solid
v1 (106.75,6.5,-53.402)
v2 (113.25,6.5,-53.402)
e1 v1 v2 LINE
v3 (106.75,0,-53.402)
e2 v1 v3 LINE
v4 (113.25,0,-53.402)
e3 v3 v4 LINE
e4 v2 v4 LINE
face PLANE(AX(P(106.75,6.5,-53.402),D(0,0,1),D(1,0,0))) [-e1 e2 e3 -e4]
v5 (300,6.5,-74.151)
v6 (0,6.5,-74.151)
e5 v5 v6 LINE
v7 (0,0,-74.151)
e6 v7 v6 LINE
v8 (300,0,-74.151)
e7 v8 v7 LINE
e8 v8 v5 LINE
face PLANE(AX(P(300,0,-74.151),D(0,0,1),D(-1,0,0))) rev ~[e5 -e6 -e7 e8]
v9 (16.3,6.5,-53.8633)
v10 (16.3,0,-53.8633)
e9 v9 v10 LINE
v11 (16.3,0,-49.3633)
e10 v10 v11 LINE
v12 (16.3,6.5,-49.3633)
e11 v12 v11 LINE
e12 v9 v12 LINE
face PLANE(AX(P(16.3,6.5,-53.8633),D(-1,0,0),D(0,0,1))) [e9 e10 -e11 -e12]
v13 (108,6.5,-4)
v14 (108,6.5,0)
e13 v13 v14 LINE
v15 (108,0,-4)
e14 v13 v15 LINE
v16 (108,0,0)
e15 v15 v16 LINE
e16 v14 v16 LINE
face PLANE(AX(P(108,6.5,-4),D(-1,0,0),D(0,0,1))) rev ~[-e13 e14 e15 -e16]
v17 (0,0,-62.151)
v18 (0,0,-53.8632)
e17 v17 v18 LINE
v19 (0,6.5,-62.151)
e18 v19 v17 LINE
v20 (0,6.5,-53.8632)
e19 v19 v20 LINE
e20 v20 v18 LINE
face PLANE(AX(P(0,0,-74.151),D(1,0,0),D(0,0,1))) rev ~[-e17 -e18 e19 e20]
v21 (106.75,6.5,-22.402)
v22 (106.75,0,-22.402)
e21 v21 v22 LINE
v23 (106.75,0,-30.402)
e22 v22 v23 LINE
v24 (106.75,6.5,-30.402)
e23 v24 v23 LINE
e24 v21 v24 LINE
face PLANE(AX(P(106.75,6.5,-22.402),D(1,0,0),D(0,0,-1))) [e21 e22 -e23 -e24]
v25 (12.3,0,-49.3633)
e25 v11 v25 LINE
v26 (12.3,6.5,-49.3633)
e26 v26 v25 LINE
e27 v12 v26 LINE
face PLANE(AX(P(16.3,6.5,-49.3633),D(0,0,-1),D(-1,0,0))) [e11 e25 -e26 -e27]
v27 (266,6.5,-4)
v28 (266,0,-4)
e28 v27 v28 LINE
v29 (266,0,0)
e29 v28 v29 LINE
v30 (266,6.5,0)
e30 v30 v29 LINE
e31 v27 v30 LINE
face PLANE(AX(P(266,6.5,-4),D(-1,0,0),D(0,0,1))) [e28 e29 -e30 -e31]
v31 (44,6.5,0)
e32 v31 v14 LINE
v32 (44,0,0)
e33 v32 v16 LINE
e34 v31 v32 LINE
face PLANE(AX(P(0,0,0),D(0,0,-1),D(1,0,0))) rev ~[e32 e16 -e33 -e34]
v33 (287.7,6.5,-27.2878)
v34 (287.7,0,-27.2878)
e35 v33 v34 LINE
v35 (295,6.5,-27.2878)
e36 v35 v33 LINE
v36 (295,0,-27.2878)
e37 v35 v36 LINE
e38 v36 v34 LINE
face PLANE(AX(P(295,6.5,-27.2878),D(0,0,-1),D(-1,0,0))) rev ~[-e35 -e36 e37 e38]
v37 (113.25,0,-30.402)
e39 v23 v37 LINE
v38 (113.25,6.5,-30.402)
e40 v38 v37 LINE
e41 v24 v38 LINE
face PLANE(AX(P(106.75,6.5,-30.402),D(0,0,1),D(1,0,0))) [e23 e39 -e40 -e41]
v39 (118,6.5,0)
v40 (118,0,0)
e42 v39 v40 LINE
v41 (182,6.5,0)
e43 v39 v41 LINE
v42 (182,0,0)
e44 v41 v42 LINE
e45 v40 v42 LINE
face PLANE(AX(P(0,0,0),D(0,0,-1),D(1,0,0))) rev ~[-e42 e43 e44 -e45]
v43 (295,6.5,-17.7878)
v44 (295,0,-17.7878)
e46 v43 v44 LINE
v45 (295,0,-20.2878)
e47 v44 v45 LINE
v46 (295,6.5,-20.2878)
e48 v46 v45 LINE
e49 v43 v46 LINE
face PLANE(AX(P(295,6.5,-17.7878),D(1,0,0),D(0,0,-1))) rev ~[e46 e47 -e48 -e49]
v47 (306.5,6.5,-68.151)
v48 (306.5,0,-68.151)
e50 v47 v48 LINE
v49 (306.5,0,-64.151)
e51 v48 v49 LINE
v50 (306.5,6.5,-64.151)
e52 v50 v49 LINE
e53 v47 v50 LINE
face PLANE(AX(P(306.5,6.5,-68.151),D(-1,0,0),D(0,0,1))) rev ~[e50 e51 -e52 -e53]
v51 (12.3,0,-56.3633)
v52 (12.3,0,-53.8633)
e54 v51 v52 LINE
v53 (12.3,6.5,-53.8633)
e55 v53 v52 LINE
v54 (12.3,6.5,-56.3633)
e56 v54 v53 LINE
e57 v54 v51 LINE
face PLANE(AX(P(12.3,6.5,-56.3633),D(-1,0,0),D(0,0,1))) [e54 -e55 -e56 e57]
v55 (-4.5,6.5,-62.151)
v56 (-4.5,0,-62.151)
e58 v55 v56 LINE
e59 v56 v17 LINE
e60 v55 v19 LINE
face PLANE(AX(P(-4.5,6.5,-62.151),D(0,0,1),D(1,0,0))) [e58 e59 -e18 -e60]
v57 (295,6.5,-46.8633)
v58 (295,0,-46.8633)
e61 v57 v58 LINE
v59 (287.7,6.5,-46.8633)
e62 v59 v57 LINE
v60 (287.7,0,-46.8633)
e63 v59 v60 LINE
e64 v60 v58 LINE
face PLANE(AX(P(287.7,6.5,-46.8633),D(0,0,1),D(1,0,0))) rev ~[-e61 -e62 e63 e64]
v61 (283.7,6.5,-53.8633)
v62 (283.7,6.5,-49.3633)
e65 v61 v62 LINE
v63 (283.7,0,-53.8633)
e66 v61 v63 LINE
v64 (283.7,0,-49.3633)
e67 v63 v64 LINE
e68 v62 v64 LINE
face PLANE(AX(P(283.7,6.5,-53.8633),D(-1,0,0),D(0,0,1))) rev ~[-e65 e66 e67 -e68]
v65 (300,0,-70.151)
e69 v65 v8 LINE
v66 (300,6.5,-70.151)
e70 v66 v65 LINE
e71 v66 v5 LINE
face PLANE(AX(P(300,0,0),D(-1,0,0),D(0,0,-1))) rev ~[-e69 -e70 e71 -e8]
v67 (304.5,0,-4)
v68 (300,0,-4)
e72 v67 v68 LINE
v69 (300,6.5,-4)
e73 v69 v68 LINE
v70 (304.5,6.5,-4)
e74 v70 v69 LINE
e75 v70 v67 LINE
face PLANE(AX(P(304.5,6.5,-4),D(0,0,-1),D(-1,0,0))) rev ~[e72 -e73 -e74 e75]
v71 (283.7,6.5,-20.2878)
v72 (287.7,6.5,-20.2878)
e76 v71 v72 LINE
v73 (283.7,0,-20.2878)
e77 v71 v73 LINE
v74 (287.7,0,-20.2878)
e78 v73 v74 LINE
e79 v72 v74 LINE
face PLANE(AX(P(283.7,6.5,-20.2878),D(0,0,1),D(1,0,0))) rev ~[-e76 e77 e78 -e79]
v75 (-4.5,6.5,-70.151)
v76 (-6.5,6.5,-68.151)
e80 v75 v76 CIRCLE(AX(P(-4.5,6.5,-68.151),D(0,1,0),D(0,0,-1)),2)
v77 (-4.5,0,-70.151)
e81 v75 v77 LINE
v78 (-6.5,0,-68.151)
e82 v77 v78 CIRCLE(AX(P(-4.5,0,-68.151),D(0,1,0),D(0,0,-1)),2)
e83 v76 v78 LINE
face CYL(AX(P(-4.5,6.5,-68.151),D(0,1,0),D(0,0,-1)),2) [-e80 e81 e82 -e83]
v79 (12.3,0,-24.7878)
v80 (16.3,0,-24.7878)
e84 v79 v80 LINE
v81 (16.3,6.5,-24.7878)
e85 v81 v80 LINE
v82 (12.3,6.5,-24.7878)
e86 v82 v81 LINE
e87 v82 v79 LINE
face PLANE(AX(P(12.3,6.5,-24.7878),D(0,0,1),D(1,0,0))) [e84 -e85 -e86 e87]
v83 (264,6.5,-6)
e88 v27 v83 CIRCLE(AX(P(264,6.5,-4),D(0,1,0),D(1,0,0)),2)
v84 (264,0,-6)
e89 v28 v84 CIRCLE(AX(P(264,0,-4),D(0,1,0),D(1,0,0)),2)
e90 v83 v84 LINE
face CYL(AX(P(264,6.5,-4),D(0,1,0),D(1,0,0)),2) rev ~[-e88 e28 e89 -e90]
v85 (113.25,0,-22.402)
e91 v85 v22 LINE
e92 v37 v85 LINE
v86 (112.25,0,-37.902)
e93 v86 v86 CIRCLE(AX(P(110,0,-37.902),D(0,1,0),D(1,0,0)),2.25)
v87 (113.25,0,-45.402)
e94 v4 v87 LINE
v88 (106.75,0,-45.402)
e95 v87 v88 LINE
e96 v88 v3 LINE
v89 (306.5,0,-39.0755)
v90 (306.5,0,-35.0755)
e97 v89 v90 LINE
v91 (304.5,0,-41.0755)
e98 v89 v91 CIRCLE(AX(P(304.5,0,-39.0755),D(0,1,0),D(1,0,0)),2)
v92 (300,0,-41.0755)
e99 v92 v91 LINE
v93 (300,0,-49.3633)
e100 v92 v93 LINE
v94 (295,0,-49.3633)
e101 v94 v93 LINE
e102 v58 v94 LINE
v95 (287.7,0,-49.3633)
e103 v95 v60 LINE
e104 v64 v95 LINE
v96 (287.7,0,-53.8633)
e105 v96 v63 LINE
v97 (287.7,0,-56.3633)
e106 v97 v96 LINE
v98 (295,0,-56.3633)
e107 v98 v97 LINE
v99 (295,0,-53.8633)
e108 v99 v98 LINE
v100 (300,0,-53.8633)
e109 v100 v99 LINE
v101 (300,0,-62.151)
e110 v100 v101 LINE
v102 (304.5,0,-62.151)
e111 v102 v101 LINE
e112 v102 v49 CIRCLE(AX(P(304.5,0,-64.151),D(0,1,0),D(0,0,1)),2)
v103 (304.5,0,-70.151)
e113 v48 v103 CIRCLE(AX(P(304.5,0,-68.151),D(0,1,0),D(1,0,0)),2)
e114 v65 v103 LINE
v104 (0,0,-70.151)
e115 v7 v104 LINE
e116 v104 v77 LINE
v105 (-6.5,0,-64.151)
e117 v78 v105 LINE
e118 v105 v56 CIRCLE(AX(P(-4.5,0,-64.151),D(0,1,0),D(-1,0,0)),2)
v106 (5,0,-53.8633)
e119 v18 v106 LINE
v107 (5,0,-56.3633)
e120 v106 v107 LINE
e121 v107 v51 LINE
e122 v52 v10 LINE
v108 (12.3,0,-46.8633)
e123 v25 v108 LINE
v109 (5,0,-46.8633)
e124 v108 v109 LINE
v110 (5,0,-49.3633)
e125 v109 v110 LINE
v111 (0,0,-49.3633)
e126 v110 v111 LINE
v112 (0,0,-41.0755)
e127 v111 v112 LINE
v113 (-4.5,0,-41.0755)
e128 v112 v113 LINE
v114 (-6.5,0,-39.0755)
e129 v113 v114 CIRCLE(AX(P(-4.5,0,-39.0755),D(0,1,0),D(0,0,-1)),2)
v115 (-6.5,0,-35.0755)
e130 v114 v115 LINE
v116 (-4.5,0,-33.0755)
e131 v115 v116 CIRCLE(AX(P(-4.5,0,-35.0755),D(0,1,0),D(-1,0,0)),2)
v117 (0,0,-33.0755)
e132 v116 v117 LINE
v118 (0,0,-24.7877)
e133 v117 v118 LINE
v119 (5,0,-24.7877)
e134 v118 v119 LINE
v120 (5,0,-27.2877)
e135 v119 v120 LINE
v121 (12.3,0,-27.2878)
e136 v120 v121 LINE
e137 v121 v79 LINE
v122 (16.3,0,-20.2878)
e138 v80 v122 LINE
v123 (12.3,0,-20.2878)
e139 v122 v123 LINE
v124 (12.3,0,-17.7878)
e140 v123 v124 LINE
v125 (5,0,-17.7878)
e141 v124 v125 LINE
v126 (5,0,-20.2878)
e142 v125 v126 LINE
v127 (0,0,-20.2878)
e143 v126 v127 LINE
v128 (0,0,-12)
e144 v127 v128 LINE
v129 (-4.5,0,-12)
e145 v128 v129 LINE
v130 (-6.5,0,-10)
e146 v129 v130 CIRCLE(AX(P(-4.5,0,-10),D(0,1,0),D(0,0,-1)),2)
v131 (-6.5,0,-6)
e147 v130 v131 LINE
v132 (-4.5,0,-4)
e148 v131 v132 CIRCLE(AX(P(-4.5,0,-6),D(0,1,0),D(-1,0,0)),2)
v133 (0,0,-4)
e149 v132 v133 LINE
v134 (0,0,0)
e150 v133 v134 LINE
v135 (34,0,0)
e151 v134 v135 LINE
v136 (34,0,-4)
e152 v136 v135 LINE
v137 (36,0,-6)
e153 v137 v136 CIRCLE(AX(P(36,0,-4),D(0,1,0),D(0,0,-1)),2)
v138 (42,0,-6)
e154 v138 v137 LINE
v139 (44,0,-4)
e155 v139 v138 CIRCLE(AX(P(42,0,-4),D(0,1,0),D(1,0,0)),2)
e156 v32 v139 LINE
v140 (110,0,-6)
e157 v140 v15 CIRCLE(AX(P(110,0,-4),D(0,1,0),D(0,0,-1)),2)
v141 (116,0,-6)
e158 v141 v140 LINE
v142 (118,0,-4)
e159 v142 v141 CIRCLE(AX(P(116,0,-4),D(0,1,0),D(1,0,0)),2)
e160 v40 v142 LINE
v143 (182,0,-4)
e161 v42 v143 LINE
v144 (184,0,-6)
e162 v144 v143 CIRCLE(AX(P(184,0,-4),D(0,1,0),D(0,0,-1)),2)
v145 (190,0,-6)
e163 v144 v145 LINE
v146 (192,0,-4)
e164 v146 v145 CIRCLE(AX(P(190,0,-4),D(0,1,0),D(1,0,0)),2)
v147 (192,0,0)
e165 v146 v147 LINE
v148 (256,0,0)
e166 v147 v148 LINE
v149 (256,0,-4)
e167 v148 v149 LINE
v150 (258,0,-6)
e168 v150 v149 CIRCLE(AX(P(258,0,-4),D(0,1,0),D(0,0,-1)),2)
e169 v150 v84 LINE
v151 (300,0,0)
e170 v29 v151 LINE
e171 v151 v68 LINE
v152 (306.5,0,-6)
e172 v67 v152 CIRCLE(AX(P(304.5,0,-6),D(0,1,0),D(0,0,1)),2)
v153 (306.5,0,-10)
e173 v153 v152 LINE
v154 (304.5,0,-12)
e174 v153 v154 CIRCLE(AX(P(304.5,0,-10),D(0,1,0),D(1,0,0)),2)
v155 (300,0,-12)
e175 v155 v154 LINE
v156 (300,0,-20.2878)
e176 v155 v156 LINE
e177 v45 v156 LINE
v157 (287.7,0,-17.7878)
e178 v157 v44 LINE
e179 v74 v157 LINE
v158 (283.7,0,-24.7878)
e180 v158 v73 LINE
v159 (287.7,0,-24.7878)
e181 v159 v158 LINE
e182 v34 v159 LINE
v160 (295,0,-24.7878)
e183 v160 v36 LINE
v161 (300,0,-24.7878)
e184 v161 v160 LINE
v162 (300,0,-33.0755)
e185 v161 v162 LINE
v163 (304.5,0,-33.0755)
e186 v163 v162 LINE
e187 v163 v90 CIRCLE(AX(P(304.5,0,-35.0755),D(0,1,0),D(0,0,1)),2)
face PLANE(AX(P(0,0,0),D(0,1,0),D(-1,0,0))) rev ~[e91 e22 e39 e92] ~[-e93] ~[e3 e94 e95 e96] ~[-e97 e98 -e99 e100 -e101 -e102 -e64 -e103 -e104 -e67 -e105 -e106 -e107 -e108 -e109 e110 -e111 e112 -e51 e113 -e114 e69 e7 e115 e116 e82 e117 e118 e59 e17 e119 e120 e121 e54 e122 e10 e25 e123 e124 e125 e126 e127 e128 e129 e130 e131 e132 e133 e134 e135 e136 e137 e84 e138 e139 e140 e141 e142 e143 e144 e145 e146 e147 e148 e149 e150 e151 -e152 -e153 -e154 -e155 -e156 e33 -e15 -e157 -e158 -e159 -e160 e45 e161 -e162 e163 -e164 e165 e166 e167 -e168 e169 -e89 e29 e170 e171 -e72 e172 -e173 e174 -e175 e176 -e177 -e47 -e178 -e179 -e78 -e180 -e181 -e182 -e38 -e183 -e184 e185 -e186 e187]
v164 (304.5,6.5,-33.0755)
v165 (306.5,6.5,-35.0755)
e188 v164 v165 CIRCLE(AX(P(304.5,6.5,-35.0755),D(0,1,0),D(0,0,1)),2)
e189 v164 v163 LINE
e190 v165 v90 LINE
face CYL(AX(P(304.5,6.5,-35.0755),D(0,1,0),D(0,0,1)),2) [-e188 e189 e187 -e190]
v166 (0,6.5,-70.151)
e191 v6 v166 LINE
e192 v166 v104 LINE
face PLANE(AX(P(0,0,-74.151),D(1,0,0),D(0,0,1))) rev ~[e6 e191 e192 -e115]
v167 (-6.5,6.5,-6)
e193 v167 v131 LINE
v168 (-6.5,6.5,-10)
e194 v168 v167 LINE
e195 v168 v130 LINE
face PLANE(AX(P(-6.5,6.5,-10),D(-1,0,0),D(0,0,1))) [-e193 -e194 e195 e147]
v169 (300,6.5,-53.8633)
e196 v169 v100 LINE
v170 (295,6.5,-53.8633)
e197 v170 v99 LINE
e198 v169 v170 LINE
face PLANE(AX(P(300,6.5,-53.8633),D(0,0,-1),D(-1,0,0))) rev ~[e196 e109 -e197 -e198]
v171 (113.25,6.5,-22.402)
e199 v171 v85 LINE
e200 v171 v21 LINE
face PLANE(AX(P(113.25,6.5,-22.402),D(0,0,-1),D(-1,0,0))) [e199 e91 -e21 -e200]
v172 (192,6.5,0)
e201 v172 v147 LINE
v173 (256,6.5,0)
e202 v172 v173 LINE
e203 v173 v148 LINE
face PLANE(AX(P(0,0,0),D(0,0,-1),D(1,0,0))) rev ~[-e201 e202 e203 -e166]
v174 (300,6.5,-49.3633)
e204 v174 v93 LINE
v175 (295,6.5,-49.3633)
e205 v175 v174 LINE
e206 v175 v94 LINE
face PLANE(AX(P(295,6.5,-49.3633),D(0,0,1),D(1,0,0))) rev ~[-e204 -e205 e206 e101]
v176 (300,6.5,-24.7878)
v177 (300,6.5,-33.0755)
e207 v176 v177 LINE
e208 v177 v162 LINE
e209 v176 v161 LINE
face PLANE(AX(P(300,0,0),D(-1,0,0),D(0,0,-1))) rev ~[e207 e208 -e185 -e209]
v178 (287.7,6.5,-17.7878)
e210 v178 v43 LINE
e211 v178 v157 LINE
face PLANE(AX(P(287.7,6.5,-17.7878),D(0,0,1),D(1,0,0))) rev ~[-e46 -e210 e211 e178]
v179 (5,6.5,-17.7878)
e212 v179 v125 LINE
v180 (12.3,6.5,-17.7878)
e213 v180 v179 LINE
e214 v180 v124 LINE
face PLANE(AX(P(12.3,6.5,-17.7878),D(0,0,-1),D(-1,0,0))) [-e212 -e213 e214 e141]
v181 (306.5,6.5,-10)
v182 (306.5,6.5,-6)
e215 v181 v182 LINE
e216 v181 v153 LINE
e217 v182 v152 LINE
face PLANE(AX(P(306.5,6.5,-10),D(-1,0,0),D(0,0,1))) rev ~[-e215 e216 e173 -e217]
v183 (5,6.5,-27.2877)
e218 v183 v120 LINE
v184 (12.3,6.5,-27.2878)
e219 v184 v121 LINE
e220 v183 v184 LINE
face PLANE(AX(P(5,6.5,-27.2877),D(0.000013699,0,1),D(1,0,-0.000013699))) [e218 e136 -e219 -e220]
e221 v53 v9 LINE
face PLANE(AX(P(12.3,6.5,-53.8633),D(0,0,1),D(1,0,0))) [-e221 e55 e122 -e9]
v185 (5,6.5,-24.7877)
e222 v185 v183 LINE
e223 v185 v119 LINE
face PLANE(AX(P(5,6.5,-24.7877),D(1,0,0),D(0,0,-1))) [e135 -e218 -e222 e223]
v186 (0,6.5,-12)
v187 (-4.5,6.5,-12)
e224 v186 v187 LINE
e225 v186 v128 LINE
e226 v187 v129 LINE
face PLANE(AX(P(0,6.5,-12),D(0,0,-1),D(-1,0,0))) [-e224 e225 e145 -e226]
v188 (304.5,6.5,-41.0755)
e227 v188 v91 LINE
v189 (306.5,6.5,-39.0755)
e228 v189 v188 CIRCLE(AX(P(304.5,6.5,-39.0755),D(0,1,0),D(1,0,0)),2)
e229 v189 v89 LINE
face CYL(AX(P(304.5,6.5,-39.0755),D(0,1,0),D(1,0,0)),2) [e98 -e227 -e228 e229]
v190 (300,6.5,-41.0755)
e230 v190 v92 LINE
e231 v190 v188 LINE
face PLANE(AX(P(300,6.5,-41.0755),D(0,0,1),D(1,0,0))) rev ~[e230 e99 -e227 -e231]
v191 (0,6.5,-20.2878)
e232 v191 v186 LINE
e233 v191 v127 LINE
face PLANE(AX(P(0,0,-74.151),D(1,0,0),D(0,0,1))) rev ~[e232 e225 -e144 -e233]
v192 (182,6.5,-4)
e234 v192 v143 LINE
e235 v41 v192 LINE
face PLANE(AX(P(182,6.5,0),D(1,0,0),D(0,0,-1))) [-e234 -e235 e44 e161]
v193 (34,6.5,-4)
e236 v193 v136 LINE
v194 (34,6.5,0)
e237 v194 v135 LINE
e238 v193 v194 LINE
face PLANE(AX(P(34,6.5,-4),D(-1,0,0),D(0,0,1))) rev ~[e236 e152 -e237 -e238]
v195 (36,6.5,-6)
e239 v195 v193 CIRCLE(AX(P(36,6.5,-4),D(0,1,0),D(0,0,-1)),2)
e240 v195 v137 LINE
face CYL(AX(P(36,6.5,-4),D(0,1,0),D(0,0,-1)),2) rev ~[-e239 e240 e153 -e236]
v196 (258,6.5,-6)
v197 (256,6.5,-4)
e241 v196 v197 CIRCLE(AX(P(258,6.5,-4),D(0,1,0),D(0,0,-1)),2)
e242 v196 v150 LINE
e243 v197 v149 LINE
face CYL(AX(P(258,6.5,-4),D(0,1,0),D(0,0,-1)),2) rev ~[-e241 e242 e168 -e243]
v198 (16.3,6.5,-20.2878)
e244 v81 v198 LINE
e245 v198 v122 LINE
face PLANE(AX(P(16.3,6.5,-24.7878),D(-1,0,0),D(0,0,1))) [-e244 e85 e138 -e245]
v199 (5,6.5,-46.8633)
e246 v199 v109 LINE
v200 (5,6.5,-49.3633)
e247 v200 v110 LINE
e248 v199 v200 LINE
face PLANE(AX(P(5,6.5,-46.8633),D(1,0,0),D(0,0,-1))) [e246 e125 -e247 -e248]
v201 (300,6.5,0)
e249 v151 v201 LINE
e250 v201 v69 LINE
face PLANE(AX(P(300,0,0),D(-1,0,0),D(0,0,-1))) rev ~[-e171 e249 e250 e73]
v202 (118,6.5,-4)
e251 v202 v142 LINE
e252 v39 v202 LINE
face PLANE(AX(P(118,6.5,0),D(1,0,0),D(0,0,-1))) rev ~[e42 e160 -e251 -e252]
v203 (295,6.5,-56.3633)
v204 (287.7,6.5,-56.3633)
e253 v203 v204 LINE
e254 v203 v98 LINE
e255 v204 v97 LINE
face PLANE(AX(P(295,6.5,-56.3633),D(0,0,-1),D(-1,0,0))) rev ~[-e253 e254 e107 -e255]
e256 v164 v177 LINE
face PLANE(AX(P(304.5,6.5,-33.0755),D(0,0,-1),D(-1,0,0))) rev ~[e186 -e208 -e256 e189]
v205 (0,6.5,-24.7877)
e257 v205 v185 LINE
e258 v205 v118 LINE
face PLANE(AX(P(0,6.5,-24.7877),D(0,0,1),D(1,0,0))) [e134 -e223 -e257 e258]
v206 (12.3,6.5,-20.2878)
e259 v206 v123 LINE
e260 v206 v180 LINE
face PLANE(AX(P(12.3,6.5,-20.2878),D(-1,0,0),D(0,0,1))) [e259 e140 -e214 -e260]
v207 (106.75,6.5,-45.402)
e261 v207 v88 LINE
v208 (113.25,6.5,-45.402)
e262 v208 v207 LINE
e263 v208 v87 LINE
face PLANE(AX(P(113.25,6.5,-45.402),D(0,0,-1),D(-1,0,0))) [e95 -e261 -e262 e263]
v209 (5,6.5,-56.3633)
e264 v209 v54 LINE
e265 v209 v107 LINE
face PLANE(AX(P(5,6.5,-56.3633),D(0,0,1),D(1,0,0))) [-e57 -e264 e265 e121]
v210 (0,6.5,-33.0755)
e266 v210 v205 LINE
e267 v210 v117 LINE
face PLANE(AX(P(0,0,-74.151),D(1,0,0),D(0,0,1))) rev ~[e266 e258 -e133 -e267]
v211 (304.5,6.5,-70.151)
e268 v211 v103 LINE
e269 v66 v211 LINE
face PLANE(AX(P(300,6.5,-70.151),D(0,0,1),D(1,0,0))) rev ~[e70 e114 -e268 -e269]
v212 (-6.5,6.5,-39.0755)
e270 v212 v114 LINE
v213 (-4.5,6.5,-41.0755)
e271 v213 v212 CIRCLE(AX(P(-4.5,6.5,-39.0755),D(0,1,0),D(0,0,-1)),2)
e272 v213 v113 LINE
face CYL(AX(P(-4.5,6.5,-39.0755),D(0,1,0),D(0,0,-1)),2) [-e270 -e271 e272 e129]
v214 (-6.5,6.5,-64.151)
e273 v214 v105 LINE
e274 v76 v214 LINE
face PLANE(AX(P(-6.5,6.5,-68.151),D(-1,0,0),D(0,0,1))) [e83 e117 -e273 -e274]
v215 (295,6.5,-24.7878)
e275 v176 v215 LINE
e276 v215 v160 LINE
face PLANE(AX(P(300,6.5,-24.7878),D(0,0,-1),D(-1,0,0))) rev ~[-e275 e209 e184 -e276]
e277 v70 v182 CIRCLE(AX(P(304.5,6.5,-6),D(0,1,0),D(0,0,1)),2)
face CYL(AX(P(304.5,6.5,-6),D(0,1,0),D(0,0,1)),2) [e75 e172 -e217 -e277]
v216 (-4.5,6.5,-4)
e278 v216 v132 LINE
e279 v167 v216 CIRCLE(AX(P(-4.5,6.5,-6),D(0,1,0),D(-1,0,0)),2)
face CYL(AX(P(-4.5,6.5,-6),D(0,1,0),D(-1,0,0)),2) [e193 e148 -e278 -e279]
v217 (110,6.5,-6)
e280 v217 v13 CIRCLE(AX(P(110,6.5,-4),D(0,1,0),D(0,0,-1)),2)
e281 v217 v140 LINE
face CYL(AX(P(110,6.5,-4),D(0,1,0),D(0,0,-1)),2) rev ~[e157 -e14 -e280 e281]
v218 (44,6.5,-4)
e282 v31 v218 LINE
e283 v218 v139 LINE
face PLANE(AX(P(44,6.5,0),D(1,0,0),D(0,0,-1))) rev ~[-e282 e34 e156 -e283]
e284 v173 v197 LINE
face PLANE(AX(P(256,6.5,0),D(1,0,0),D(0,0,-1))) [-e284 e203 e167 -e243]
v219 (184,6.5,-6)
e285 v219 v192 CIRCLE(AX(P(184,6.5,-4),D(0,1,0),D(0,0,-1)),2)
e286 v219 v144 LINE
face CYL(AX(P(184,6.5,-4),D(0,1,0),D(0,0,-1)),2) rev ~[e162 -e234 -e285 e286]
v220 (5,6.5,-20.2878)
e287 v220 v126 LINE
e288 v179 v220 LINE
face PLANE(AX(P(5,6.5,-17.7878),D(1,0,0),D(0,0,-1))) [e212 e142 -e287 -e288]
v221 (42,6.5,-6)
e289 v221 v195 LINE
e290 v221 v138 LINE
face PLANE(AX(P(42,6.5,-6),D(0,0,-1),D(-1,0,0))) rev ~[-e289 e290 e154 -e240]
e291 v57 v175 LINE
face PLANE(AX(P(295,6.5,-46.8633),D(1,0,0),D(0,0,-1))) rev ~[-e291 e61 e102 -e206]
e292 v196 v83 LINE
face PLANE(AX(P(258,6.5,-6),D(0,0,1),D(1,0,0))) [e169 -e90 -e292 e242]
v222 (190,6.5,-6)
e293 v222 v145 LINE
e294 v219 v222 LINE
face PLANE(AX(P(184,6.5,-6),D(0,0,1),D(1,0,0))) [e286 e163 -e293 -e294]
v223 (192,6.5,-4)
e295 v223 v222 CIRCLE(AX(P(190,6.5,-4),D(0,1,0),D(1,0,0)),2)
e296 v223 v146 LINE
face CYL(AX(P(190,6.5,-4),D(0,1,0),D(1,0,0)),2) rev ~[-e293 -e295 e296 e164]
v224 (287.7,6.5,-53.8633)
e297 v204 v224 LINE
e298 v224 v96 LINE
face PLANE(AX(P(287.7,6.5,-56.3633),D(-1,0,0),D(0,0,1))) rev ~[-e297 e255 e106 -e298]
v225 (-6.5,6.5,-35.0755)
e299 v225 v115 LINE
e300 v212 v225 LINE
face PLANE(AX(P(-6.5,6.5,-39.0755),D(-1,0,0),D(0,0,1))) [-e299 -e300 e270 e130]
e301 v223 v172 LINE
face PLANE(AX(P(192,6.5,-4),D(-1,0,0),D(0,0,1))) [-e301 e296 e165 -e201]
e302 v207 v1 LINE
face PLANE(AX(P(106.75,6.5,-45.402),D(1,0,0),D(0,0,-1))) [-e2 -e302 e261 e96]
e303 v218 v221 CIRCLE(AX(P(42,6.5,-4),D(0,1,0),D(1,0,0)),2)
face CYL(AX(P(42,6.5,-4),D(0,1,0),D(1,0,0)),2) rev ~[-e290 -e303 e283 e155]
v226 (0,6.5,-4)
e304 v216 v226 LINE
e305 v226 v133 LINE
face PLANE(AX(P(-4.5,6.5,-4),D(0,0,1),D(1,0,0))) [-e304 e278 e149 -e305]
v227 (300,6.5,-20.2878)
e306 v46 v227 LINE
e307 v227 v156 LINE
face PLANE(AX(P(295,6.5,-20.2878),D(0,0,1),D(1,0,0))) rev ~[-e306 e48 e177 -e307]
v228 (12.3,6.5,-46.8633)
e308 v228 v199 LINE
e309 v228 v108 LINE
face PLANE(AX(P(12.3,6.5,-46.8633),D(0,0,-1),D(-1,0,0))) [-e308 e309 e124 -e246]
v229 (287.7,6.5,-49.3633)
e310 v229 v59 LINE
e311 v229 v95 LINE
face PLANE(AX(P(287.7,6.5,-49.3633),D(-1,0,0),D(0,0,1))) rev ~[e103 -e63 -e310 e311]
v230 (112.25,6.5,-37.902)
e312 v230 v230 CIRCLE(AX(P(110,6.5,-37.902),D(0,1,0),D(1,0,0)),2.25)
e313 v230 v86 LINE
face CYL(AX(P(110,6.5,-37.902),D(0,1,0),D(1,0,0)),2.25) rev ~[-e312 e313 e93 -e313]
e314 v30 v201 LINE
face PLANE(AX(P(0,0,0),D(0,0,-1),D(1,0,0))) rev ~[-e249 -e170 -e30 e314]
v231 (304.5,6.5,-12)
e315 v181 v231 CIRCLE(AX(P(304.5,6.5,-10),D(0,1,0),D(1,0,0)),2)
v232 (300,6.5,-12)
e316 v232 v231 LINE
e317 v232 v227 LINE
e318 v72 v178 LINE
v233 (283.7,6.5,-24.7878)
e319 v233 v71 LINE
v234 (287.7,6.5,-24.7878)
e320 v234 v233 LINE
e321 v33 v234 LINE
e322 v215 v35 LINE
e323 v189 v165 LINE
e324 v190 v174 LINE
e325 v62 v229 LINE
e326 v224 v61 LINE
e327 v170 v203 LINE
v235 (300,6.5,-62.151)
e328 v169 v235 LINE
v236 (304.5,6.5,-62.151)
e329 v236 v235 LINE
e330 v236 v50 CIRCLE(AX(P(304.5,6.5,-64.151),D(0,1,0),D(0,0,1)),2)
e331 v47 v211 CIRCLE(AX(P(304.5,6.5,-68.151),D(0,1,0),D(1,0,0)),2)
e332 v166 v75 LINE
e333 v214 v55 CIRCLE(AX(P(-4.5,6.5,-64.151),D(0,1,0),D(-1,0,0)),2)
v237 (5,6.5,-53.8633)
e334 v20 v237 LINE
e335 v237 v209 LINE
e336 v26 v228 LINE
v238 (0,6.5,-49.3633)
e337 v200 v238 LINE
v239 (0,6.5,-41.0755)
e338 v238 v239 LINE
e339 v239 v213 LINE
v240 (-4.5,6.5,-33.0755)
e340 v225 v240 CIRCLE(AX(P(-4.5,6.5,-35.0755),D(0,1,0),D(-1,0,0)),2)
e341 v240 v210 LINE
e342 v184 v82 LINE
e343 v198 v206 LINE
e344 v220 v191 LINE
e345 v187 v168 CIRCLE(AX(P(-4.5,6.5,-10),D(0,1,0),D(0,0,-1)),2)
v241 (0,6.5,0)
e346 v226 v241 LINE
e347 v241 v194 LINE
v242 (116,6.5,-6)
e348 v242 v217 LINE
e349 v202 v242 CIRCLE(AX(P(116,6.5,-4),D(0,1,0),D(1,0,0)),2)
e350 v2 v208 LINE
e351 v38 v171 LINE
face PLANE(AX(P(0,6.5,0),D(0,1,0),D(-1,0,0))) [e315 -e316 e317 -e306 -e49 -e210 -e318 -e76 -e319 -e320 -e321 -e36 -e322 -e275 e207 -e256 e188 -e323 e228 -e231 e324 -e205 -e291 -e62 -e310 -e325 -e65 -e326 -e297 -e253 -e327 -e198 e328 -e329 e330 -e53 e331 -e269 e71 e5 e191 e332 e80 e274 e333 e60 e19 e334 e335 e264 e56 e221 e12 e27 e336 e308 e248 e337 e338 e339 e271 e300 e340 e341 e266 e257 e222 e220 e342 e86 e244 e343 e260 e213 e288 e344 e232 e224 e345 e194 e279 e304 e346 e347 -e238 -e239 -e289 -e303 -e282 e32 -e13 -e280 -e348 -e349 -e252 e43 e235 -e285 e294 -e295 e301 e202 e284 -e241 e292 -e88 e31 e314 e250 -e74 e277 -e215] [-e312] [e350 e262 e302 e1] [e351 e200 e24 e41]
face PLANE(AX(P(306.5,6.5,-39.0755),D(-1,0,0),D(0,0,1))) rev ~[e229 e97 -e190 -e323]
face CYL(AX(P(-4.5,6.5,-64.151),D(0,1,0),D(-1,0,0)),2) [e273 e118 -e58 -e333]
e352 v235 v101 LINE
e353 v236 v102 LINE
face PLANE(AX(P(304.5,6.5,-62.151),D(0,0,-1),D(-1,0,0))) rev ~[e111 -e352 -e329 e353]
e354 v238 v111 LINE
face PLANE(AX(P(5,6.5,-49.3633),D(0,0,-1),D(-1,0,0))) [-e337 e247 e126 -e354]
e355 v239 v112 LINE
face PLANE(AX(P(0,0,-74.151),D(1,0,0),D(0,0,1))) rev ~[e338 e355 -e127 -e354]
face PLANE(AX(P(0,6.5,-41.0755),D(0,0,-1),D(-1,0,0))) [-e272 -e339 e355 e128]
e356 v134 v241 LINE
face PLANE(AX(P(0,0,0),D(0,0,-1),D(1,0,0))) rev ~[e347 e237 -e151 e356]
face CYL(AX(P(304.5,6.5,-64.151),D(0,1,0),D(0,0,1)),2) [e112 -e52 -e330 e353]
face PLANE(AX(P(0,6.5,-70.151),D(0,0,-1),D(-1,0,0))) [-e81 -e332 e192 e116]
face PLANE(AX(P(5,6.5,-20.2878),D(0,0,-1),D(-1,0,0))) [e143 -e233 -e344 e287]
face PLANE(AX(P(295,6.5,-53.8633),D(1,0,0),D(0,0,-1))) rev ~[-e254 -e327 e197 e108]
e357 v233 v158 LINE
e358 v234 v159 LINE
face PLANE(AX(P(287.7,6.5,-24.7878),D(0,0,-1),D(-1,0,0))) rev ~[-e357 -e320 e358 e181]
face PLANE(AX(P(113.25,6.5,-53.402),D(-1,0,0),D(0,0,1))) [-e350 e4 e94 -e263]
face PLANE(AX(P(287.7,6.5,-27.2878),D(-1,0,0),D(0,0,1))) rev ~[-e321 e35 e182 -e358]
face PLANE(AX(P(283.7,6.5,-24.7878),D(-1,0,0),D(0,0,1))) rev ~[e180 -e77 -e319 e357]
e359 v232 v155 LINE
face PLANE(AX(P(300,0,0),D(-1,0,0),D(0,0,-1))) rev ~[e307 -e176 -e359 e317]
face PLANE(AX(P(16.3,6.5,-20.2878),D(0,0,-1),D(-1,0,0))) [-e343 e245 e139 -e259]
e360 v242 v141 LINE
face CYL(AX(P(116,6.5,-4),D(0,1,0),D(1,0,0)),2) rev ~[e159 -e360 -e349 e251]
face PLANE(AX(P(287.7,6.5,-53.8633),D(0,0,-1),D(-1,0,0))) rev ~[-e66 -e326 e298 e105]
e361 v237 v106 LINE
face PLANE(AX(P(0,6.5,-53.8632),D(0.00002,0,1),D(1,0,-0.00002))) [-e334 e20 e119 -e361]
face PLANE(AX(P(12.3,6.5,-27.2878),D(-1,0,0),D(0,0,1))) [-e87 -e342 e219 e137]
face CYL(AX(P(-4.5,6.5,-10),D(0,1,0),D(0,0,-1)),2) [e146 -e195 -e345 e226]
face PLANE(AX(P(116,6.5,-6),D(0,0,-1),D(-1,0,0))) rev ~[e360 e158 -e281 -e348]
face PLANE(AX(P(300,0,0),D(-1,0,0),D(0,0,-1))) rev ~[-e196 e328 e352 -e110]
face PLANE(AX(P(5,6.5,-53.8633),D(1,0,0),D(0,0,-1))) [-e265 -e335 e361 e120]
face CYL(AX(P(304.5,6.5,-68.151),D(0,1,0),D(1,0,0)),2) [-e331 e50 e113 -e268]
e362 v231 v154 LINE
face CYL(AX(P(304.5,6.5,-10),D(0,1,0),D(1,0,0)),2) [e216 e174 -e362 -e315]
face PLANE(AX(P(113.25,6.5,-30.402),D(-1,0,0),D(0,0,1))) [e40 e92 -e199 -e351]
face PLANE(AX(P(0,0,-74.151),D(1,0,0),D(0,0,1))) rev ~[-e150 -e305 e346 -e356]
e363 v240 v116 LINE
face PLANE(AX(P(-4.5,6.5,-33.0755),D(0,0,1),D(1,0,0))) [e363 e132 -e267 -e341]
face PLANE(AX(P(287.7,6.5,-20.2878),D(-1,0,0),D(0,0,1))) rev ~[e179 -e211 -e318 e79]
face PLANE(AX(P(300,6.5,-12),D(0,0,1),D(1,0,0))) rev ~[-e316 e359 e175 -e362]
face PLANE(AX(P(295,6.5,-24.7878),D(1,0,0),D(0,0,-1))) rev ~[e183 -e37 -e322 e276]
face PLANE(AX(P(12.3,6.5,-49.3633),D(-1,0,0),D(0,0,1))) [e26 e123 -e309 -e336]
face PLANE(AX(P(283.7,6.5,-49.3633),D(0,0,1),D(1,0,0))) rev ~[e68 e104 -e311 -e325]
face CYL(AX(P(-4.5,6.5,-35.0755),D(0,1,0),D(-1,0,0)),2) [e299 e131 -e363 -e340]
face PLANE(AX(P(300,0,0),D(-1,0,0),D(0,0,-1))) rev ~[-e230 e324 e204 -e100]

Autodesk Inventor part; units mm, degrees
ref_plane "YZ Plane" through (0, 0, 0) normal (1, 0, 0) x (0, 1, 0)
ref_plane "XZ Plane" through (0, 0, 0) normal (0, 1, 0) x (-1, 0, 0)
ref_plane "XY Plane" through (0, 0, 0) normal (0, 0, 1) x (1, 0, 0)
sketch "Sketch1" plane through (0, 0, 0) normal (0, 1, 0) x (-1, 0, 0)
  line L0 (0, 0) -> (-300, 0)
  line L1 (-300, 0) -> (-300, -74.151)
  line L2 (-300, -74.151) -> (0, -74.151)
  line L3 (0, -74.151) -> (0, 0)
  dimension "d0" = 300
  dimension "d1" = 74.151
extrude "Extrusion1" add sketch "Sketch1" along normal blind 6.5
sketch "Sketch2" plane through (0, 6.5, 0) normal (0, 1, 0) x (1, 0, 0)
  line L0 (0, 0) -> (300, 0) projected
  line L1 (300, 74.151) -> (0, 74.151) projected
  line L2 (150, 74.151) -> (150, 0) construction
  line L3 (34, 0) -> (44, 0)
  line L4 (44, 0) -> (44, 4)
  line L5 (42, 6) -> (36, 6)
  line L6 (34, 4) -> (34, 0)
  line L7 (108, 0) -> (118, 0)
  line L8 (118, 0) -> (118, 4)
  line L9 (116, 6) -> (110, 6)
  line L10 (108, 4) -> (108, 0)
  arc A0 (36, 6) -> (34, 4) centre (36, 4) ccw
  arc A1 (44, 4) -> (42, 6) centre (42, 4) ccw
  arc A2 (110, 6) -> (108, 4) centre (110, 4) ccw
  arc A3 (118, 4) -> (116, 6) centre (116, 4) ccw
  line L11 (266, 0) -> (256, 0)
  line L12 (256, 0) -> (256, 4)
  line L13 (258, 6) -> (264, 6)
  line L14 (266, 4) -> (266, 0)
  line L15 (192, 0) -> (182, 0)
  line L16 (182, 0) -> (182, 4)
  line L17 (184, 6) -> (190, 6)
  line L18 (192, 4) -> (192, 0)
  arc A4 (266, 4) -> (264, 6) centre (264, 4) ccw
  arc A5 (258, 6) -> (256, 4) centre (258, 4) ccw
  arc A6 (192, 4) -> (190, 6) centre (190, 4) ccw
  arc A7 (184, 6) -> (182, 4) centre (184, 4) ccw
  point P0 (39, 6)
  point P1 (113, 6)
  point P2 (261, 6)
  point P3 (187, 6)
  dimension "d10" = 2
  dimension "d11" = 74
  dimension "d12" = 37
  dimension "d13" = 10
  dimension "d14" = 10
  dimension "d15" = 6
extrude "Extrusion2" cut sketch "Sketch2" against normal through all
sketch "Sketch3" plane through (0, 6.5, 0) normal (0, 1, 0) x (1, 0, 0)
  line L0 (106.75, 53.402) -> (113.25, 53.402)
  line L1 (113.25, 53.402) -> (113.25, 45.402)
  line L2 (113.25, 45.402) -> (106.75, 45.402)
  line L3 (106.75, 45.402) -> (106.75, 53.402)
  line L4 (106.75, 30.402) -> (113.25, 30.402)
  line L5 (113.25, 30.402) -> (113.25, 22.402)
  line L6 (113.25, 22.402) -> (106.75, 22.402)
  line L7 (106.75, 22.402) -> (106.75, 30.402)
  circle A0 centre (110, 37.902) radius 2.25
  line L8 (0, 74.151) -> (0, 0) projected
  line L9 (300, 74.151) -> (0, 74.151) projected
  point P0 (110, 45.402)
  dimension "d18" = 6.5
  dimension "d19" = 8
  dimension "d20" = 15
  dimension "d21" = 4.5
  dimension "d22" = 7.5
  dimension "d56" = 110
  dimension "d57" = 36.249
extrude "Extrusion3" cut sketch "Sketch3" against normal through all
sketch "Sketch4" plane through (0, 6.5, 0) normal (0, 1, 0) x (1, 0, 0)
  line L0 (300, 74.151) -> (0, 74.151) projected
  line L1 (0, 74.151) -> (0, 0) projected
  line L2 (0, 0) -> (34, 0) projected
  line L3 (118, 0) -> (182, 0) projected
  line L4 (0, 70.151) -> (-4.5, 70.151)
  line L5 (-6.5, 68.151) -> (-6.5, 64.151)
  line L6 (-4.5, 62.151) -> (0, 62.151)
  line L7 (0, 62.151) -> (0, 70.151)
  line L8 (0, 41.0755) -> (-4.5, 41.0755)
  line L9 (-6.5, 39.0755) -> (-6.5, 35.0755)
  line L10 (-4.5, 33.0755) -> (0, 33.0755)
  line L11 (0, 33.0755) -> (0, 41.0755)
  line L12 (0, 12) -> (-4.5, 12)
  line L13 (-6.5, 10) -> (-6.5, 6)
  line L14 (-4.5, 4) -> (0, 4)
  line L15 (0, 4) -> (0, 12)
  line L16 (150, 74.151) -> (150, 0) construction
  arc A0 (-4.5, 70.151) -> (-6.5, 68.151) centre (-4.5, 68.151) ccw
  arc A1 (-6.5, 64.151) -> (-4.5, 62.151) centre (-4.5, 64.151) ccw
  arc A2 (-4.5, 41.0755) -> (-6.5, 39.0755) centre (-4.5, 39.0755) ccw
  arc A3 (-6.5, 35.0755) -> (-4.5, 33.0755) centre (-4.5, 35.0755) ccw
  arc A4 (-4.5, 12) -> (-6.5, 10) centre (-4.5, 10) ccw
  arc A5 (-6.5, 6) -> (-4.5, 4) centre (-4.5, 6) ccw
  line L17 (-2.25, 62.151) -> (-2.25, 41.0755) construction
  line L18 (-2.25, 33.0755) -> (-2.25, 12) construction
  line L19 (300, 70.151) -> (304.5, 70.151)
  line L20 (306.5, 68.151) -> (306.5, 64.151)
  line L21 (304.5, 62.151) -> (300, 62.151)
  line L22 (300, 62.151) -> (300, 70.151)
  line L23 (300, 41.0755) -> (304.5, 41.0755)
  line L24 (306.5, 39.0755) -> (306.5, 35.0755)
  line L25 (304.5, 33.0755) -> (300, 33.0755)
  line L26 (300, 33.0755) -> (300, 41.0755)
  line L27 (300, 12) -> (304.5, 12)
  line L28 (306.5, 10) -> (306.5, 6)
  line L29 (304.5, 4) -> (300, 4)
  line L30 (300, 4) -> (300, 12)
  arc A6 (306.5, 68.151) -> (304.5, 70.151) centre (304.5, 68.151) ccw
  arc A7 (304.5, 62.151) -> (306.5, 64.151) centre (304.5, 64.151) ccw
  arc A8 (306.5, 39.0755) -> (304.5, 41.0755) centre (304.5, 39.0755) ccw
  arc A9 (304.5, 33.0755) -> (306.5, 35.0755) centre (304.5, 35.0755) ccw
  arc A10 (306.5, 10) -> (304.5, 12) centre (304.5, 10) ccw
  arc A11 (304.5, 4) -> (306.5, 6) centre (304.5, 6) ccw
  line L31 (302.25, 62.151) -> (302.25, 41.0755) construction
  line L32 (302.25, 33.0755) -> (302.25, 12) construction
  dimension "d35" = 2
  dimension "d36" = 8
  dimension "d37" = 6.5
  dimension "d38" = 4
  dimension "d39" = 8
  dimension "d40" = 8
  dimension "d41" = 4
extrude "Extrusion4" add sketch "Sketch4" against normal blind 6.5
sketch "Sketch5" plane through (0, 6.5, 0) normal (0, 1, 0) x (1, 0, 0)
  line L0 (300, 74.151) -> (0, 74.151) projected
  line L1 (0, 62.151) -> (0, 41.0755) projected
  line L2 (0, 33.0755) -> (0, 12) projected
  line L3 (118, 0) -> (182, 0) projected
  line L4 (16.3, 53.8633) -> (16.3, 49.3633)
  line L5 (0, 49.3633) -> (0, 53.8632)
  line L6 (5, 56.3633) -> (12.3, 56.3633)
  line L7 (12.3, 46.8633) -> (5, 46.8633)
  line L8 (0, 53.8632) -> (5, 53.8633)
  line L9 (12.3, 53.8633) -> (16.3, 53.8633)
  line L10 (16.3, 49.3633) -> (12.3, 49.3633)
  line L11 (5, 49.3633) -> (0, 49.3633)
  line L12 (5, 46.8633) -> (5, 49.3633)
  line L13 (5, 53.8633) -> (5, 56.3633)
  line L14 (12.3, 56.3633) -> (12.3, 53.8633)
  line L15 (12.3, 49.3633) -> (12.3, 46.8633)
  line L16 (150, 74.151) -> (150, 0) construction
  line L17 (16.3, 24.7878) -> (16.3, 20.2878)
  line L18 (0, 20.2878) -> (0, 24.7877)
  line L19 (5, 27.2877) -> (12.3, 27.2878)
  line L20 (12.3, 17.7878) -> (5, 17.7878)
  line L21 (0, 24.7877) -> (5, 24.7877)
  line L22 (12.3, 24.7878) -> (16.3, 24.7878)
  line L23 (16.3, 20.2878) -> (12.3, 20.2878)
  line L24 (5, 20.2878) -> (0, 20.2878)
  line L25 (5, 17.7878) -> (5, 20.2878)
  line L26 (5, 24.7877) -> (5, 27.2877)
  line L27 (12.3, 27.2878) -> (12.3, 24.7878)
  line L28 (12.3, 20.2878) -> (12.3, 17.7878)
  line L29 (283.7, 53.8633) -> (283.7, 49.3633)
  line L30 (300, 49.3633) -> (300, 53.8633)
  line L31 (295, 56.3633) -> (287.7, 56.3633)
  line L32 (287.7, 46.8633) -> (295, 46.8633)
  line L33 (300, 53.8633) -> (295, 53.8633)
  line L34 (287.7, 53.8633) -> (283.7, 53.8633)
  line L35 (283.7, 49.3633) -> (287.7, 49.3633)
  line L36 (295, 49.3633) -> (300, 49.3633)
  line L37 (295, 46.8633) -> (295, 49.3633)
  line L38 (295, 53.8633) -> (295, 56.3633)
  line L39 (287.7, 56.3633) -> (287.7, 53.8633)
  line L40 (287.7, 49.3633) -> (287.7, 46.8633)
  line L41 (300, 20.2878) -> (300, 24.7878)
  line L42 (300, 24.7878) -> (295, 24.7878)
  line L43 (295, 24.7878) -> (295, 27.2878)
  line L44 (295, 20.2878) -> (300, 20.2878)
  line L45 (295, 17.7878) -> (295, 20.2878)
  line L46 (295, 27.2878) -> (287.7, 27.2878)
  line L47 (287.7, 27.2878) -> (287.7, 24.7878)
  line L48 (287.7, 20.2878) -> (287.7, 17.7878)
  line L49 (287.7, 17.7878) -> (295, 17.7878)
  line L50 (287.7, 24.7878) -> (283.7, 24.7878)
  line L51 (283.7, 20.2878) -> (287.7, 20.2878)
  line L52 (283.7, 24.7878) -> (283.7, 20.2878)
  point P0 (0, 51.6132)
  point P1 (0, 22.5378)
  point P2 (300, 51.6133)
  point P3 (300, 22.5378)
  dimension "d44" = 4.5
  dimension "d45" = 5
  dimension "d46" = 4
  dimension "d47" = 7.3
  dimension "d48" = 2.5
  dimension "d49" = 4.5
  dimension "d50" = 5
  dimension "d51" = 4
  dimension "d52" = 7.3
  dimension "d53" = 2.5
extrude "Extrusion5" cut sketch "Sketch5" against normal through all
equation "\"d12\" = 0.5 * d11"
equation "\"d13\" = d14"
equation "\"d22\" = 0.5 * d20"
equation "\"d39\" = d36"
equation "\"d40\" = d39"
properties part number "front_panel_bottom" material "Plywood, Finish"
